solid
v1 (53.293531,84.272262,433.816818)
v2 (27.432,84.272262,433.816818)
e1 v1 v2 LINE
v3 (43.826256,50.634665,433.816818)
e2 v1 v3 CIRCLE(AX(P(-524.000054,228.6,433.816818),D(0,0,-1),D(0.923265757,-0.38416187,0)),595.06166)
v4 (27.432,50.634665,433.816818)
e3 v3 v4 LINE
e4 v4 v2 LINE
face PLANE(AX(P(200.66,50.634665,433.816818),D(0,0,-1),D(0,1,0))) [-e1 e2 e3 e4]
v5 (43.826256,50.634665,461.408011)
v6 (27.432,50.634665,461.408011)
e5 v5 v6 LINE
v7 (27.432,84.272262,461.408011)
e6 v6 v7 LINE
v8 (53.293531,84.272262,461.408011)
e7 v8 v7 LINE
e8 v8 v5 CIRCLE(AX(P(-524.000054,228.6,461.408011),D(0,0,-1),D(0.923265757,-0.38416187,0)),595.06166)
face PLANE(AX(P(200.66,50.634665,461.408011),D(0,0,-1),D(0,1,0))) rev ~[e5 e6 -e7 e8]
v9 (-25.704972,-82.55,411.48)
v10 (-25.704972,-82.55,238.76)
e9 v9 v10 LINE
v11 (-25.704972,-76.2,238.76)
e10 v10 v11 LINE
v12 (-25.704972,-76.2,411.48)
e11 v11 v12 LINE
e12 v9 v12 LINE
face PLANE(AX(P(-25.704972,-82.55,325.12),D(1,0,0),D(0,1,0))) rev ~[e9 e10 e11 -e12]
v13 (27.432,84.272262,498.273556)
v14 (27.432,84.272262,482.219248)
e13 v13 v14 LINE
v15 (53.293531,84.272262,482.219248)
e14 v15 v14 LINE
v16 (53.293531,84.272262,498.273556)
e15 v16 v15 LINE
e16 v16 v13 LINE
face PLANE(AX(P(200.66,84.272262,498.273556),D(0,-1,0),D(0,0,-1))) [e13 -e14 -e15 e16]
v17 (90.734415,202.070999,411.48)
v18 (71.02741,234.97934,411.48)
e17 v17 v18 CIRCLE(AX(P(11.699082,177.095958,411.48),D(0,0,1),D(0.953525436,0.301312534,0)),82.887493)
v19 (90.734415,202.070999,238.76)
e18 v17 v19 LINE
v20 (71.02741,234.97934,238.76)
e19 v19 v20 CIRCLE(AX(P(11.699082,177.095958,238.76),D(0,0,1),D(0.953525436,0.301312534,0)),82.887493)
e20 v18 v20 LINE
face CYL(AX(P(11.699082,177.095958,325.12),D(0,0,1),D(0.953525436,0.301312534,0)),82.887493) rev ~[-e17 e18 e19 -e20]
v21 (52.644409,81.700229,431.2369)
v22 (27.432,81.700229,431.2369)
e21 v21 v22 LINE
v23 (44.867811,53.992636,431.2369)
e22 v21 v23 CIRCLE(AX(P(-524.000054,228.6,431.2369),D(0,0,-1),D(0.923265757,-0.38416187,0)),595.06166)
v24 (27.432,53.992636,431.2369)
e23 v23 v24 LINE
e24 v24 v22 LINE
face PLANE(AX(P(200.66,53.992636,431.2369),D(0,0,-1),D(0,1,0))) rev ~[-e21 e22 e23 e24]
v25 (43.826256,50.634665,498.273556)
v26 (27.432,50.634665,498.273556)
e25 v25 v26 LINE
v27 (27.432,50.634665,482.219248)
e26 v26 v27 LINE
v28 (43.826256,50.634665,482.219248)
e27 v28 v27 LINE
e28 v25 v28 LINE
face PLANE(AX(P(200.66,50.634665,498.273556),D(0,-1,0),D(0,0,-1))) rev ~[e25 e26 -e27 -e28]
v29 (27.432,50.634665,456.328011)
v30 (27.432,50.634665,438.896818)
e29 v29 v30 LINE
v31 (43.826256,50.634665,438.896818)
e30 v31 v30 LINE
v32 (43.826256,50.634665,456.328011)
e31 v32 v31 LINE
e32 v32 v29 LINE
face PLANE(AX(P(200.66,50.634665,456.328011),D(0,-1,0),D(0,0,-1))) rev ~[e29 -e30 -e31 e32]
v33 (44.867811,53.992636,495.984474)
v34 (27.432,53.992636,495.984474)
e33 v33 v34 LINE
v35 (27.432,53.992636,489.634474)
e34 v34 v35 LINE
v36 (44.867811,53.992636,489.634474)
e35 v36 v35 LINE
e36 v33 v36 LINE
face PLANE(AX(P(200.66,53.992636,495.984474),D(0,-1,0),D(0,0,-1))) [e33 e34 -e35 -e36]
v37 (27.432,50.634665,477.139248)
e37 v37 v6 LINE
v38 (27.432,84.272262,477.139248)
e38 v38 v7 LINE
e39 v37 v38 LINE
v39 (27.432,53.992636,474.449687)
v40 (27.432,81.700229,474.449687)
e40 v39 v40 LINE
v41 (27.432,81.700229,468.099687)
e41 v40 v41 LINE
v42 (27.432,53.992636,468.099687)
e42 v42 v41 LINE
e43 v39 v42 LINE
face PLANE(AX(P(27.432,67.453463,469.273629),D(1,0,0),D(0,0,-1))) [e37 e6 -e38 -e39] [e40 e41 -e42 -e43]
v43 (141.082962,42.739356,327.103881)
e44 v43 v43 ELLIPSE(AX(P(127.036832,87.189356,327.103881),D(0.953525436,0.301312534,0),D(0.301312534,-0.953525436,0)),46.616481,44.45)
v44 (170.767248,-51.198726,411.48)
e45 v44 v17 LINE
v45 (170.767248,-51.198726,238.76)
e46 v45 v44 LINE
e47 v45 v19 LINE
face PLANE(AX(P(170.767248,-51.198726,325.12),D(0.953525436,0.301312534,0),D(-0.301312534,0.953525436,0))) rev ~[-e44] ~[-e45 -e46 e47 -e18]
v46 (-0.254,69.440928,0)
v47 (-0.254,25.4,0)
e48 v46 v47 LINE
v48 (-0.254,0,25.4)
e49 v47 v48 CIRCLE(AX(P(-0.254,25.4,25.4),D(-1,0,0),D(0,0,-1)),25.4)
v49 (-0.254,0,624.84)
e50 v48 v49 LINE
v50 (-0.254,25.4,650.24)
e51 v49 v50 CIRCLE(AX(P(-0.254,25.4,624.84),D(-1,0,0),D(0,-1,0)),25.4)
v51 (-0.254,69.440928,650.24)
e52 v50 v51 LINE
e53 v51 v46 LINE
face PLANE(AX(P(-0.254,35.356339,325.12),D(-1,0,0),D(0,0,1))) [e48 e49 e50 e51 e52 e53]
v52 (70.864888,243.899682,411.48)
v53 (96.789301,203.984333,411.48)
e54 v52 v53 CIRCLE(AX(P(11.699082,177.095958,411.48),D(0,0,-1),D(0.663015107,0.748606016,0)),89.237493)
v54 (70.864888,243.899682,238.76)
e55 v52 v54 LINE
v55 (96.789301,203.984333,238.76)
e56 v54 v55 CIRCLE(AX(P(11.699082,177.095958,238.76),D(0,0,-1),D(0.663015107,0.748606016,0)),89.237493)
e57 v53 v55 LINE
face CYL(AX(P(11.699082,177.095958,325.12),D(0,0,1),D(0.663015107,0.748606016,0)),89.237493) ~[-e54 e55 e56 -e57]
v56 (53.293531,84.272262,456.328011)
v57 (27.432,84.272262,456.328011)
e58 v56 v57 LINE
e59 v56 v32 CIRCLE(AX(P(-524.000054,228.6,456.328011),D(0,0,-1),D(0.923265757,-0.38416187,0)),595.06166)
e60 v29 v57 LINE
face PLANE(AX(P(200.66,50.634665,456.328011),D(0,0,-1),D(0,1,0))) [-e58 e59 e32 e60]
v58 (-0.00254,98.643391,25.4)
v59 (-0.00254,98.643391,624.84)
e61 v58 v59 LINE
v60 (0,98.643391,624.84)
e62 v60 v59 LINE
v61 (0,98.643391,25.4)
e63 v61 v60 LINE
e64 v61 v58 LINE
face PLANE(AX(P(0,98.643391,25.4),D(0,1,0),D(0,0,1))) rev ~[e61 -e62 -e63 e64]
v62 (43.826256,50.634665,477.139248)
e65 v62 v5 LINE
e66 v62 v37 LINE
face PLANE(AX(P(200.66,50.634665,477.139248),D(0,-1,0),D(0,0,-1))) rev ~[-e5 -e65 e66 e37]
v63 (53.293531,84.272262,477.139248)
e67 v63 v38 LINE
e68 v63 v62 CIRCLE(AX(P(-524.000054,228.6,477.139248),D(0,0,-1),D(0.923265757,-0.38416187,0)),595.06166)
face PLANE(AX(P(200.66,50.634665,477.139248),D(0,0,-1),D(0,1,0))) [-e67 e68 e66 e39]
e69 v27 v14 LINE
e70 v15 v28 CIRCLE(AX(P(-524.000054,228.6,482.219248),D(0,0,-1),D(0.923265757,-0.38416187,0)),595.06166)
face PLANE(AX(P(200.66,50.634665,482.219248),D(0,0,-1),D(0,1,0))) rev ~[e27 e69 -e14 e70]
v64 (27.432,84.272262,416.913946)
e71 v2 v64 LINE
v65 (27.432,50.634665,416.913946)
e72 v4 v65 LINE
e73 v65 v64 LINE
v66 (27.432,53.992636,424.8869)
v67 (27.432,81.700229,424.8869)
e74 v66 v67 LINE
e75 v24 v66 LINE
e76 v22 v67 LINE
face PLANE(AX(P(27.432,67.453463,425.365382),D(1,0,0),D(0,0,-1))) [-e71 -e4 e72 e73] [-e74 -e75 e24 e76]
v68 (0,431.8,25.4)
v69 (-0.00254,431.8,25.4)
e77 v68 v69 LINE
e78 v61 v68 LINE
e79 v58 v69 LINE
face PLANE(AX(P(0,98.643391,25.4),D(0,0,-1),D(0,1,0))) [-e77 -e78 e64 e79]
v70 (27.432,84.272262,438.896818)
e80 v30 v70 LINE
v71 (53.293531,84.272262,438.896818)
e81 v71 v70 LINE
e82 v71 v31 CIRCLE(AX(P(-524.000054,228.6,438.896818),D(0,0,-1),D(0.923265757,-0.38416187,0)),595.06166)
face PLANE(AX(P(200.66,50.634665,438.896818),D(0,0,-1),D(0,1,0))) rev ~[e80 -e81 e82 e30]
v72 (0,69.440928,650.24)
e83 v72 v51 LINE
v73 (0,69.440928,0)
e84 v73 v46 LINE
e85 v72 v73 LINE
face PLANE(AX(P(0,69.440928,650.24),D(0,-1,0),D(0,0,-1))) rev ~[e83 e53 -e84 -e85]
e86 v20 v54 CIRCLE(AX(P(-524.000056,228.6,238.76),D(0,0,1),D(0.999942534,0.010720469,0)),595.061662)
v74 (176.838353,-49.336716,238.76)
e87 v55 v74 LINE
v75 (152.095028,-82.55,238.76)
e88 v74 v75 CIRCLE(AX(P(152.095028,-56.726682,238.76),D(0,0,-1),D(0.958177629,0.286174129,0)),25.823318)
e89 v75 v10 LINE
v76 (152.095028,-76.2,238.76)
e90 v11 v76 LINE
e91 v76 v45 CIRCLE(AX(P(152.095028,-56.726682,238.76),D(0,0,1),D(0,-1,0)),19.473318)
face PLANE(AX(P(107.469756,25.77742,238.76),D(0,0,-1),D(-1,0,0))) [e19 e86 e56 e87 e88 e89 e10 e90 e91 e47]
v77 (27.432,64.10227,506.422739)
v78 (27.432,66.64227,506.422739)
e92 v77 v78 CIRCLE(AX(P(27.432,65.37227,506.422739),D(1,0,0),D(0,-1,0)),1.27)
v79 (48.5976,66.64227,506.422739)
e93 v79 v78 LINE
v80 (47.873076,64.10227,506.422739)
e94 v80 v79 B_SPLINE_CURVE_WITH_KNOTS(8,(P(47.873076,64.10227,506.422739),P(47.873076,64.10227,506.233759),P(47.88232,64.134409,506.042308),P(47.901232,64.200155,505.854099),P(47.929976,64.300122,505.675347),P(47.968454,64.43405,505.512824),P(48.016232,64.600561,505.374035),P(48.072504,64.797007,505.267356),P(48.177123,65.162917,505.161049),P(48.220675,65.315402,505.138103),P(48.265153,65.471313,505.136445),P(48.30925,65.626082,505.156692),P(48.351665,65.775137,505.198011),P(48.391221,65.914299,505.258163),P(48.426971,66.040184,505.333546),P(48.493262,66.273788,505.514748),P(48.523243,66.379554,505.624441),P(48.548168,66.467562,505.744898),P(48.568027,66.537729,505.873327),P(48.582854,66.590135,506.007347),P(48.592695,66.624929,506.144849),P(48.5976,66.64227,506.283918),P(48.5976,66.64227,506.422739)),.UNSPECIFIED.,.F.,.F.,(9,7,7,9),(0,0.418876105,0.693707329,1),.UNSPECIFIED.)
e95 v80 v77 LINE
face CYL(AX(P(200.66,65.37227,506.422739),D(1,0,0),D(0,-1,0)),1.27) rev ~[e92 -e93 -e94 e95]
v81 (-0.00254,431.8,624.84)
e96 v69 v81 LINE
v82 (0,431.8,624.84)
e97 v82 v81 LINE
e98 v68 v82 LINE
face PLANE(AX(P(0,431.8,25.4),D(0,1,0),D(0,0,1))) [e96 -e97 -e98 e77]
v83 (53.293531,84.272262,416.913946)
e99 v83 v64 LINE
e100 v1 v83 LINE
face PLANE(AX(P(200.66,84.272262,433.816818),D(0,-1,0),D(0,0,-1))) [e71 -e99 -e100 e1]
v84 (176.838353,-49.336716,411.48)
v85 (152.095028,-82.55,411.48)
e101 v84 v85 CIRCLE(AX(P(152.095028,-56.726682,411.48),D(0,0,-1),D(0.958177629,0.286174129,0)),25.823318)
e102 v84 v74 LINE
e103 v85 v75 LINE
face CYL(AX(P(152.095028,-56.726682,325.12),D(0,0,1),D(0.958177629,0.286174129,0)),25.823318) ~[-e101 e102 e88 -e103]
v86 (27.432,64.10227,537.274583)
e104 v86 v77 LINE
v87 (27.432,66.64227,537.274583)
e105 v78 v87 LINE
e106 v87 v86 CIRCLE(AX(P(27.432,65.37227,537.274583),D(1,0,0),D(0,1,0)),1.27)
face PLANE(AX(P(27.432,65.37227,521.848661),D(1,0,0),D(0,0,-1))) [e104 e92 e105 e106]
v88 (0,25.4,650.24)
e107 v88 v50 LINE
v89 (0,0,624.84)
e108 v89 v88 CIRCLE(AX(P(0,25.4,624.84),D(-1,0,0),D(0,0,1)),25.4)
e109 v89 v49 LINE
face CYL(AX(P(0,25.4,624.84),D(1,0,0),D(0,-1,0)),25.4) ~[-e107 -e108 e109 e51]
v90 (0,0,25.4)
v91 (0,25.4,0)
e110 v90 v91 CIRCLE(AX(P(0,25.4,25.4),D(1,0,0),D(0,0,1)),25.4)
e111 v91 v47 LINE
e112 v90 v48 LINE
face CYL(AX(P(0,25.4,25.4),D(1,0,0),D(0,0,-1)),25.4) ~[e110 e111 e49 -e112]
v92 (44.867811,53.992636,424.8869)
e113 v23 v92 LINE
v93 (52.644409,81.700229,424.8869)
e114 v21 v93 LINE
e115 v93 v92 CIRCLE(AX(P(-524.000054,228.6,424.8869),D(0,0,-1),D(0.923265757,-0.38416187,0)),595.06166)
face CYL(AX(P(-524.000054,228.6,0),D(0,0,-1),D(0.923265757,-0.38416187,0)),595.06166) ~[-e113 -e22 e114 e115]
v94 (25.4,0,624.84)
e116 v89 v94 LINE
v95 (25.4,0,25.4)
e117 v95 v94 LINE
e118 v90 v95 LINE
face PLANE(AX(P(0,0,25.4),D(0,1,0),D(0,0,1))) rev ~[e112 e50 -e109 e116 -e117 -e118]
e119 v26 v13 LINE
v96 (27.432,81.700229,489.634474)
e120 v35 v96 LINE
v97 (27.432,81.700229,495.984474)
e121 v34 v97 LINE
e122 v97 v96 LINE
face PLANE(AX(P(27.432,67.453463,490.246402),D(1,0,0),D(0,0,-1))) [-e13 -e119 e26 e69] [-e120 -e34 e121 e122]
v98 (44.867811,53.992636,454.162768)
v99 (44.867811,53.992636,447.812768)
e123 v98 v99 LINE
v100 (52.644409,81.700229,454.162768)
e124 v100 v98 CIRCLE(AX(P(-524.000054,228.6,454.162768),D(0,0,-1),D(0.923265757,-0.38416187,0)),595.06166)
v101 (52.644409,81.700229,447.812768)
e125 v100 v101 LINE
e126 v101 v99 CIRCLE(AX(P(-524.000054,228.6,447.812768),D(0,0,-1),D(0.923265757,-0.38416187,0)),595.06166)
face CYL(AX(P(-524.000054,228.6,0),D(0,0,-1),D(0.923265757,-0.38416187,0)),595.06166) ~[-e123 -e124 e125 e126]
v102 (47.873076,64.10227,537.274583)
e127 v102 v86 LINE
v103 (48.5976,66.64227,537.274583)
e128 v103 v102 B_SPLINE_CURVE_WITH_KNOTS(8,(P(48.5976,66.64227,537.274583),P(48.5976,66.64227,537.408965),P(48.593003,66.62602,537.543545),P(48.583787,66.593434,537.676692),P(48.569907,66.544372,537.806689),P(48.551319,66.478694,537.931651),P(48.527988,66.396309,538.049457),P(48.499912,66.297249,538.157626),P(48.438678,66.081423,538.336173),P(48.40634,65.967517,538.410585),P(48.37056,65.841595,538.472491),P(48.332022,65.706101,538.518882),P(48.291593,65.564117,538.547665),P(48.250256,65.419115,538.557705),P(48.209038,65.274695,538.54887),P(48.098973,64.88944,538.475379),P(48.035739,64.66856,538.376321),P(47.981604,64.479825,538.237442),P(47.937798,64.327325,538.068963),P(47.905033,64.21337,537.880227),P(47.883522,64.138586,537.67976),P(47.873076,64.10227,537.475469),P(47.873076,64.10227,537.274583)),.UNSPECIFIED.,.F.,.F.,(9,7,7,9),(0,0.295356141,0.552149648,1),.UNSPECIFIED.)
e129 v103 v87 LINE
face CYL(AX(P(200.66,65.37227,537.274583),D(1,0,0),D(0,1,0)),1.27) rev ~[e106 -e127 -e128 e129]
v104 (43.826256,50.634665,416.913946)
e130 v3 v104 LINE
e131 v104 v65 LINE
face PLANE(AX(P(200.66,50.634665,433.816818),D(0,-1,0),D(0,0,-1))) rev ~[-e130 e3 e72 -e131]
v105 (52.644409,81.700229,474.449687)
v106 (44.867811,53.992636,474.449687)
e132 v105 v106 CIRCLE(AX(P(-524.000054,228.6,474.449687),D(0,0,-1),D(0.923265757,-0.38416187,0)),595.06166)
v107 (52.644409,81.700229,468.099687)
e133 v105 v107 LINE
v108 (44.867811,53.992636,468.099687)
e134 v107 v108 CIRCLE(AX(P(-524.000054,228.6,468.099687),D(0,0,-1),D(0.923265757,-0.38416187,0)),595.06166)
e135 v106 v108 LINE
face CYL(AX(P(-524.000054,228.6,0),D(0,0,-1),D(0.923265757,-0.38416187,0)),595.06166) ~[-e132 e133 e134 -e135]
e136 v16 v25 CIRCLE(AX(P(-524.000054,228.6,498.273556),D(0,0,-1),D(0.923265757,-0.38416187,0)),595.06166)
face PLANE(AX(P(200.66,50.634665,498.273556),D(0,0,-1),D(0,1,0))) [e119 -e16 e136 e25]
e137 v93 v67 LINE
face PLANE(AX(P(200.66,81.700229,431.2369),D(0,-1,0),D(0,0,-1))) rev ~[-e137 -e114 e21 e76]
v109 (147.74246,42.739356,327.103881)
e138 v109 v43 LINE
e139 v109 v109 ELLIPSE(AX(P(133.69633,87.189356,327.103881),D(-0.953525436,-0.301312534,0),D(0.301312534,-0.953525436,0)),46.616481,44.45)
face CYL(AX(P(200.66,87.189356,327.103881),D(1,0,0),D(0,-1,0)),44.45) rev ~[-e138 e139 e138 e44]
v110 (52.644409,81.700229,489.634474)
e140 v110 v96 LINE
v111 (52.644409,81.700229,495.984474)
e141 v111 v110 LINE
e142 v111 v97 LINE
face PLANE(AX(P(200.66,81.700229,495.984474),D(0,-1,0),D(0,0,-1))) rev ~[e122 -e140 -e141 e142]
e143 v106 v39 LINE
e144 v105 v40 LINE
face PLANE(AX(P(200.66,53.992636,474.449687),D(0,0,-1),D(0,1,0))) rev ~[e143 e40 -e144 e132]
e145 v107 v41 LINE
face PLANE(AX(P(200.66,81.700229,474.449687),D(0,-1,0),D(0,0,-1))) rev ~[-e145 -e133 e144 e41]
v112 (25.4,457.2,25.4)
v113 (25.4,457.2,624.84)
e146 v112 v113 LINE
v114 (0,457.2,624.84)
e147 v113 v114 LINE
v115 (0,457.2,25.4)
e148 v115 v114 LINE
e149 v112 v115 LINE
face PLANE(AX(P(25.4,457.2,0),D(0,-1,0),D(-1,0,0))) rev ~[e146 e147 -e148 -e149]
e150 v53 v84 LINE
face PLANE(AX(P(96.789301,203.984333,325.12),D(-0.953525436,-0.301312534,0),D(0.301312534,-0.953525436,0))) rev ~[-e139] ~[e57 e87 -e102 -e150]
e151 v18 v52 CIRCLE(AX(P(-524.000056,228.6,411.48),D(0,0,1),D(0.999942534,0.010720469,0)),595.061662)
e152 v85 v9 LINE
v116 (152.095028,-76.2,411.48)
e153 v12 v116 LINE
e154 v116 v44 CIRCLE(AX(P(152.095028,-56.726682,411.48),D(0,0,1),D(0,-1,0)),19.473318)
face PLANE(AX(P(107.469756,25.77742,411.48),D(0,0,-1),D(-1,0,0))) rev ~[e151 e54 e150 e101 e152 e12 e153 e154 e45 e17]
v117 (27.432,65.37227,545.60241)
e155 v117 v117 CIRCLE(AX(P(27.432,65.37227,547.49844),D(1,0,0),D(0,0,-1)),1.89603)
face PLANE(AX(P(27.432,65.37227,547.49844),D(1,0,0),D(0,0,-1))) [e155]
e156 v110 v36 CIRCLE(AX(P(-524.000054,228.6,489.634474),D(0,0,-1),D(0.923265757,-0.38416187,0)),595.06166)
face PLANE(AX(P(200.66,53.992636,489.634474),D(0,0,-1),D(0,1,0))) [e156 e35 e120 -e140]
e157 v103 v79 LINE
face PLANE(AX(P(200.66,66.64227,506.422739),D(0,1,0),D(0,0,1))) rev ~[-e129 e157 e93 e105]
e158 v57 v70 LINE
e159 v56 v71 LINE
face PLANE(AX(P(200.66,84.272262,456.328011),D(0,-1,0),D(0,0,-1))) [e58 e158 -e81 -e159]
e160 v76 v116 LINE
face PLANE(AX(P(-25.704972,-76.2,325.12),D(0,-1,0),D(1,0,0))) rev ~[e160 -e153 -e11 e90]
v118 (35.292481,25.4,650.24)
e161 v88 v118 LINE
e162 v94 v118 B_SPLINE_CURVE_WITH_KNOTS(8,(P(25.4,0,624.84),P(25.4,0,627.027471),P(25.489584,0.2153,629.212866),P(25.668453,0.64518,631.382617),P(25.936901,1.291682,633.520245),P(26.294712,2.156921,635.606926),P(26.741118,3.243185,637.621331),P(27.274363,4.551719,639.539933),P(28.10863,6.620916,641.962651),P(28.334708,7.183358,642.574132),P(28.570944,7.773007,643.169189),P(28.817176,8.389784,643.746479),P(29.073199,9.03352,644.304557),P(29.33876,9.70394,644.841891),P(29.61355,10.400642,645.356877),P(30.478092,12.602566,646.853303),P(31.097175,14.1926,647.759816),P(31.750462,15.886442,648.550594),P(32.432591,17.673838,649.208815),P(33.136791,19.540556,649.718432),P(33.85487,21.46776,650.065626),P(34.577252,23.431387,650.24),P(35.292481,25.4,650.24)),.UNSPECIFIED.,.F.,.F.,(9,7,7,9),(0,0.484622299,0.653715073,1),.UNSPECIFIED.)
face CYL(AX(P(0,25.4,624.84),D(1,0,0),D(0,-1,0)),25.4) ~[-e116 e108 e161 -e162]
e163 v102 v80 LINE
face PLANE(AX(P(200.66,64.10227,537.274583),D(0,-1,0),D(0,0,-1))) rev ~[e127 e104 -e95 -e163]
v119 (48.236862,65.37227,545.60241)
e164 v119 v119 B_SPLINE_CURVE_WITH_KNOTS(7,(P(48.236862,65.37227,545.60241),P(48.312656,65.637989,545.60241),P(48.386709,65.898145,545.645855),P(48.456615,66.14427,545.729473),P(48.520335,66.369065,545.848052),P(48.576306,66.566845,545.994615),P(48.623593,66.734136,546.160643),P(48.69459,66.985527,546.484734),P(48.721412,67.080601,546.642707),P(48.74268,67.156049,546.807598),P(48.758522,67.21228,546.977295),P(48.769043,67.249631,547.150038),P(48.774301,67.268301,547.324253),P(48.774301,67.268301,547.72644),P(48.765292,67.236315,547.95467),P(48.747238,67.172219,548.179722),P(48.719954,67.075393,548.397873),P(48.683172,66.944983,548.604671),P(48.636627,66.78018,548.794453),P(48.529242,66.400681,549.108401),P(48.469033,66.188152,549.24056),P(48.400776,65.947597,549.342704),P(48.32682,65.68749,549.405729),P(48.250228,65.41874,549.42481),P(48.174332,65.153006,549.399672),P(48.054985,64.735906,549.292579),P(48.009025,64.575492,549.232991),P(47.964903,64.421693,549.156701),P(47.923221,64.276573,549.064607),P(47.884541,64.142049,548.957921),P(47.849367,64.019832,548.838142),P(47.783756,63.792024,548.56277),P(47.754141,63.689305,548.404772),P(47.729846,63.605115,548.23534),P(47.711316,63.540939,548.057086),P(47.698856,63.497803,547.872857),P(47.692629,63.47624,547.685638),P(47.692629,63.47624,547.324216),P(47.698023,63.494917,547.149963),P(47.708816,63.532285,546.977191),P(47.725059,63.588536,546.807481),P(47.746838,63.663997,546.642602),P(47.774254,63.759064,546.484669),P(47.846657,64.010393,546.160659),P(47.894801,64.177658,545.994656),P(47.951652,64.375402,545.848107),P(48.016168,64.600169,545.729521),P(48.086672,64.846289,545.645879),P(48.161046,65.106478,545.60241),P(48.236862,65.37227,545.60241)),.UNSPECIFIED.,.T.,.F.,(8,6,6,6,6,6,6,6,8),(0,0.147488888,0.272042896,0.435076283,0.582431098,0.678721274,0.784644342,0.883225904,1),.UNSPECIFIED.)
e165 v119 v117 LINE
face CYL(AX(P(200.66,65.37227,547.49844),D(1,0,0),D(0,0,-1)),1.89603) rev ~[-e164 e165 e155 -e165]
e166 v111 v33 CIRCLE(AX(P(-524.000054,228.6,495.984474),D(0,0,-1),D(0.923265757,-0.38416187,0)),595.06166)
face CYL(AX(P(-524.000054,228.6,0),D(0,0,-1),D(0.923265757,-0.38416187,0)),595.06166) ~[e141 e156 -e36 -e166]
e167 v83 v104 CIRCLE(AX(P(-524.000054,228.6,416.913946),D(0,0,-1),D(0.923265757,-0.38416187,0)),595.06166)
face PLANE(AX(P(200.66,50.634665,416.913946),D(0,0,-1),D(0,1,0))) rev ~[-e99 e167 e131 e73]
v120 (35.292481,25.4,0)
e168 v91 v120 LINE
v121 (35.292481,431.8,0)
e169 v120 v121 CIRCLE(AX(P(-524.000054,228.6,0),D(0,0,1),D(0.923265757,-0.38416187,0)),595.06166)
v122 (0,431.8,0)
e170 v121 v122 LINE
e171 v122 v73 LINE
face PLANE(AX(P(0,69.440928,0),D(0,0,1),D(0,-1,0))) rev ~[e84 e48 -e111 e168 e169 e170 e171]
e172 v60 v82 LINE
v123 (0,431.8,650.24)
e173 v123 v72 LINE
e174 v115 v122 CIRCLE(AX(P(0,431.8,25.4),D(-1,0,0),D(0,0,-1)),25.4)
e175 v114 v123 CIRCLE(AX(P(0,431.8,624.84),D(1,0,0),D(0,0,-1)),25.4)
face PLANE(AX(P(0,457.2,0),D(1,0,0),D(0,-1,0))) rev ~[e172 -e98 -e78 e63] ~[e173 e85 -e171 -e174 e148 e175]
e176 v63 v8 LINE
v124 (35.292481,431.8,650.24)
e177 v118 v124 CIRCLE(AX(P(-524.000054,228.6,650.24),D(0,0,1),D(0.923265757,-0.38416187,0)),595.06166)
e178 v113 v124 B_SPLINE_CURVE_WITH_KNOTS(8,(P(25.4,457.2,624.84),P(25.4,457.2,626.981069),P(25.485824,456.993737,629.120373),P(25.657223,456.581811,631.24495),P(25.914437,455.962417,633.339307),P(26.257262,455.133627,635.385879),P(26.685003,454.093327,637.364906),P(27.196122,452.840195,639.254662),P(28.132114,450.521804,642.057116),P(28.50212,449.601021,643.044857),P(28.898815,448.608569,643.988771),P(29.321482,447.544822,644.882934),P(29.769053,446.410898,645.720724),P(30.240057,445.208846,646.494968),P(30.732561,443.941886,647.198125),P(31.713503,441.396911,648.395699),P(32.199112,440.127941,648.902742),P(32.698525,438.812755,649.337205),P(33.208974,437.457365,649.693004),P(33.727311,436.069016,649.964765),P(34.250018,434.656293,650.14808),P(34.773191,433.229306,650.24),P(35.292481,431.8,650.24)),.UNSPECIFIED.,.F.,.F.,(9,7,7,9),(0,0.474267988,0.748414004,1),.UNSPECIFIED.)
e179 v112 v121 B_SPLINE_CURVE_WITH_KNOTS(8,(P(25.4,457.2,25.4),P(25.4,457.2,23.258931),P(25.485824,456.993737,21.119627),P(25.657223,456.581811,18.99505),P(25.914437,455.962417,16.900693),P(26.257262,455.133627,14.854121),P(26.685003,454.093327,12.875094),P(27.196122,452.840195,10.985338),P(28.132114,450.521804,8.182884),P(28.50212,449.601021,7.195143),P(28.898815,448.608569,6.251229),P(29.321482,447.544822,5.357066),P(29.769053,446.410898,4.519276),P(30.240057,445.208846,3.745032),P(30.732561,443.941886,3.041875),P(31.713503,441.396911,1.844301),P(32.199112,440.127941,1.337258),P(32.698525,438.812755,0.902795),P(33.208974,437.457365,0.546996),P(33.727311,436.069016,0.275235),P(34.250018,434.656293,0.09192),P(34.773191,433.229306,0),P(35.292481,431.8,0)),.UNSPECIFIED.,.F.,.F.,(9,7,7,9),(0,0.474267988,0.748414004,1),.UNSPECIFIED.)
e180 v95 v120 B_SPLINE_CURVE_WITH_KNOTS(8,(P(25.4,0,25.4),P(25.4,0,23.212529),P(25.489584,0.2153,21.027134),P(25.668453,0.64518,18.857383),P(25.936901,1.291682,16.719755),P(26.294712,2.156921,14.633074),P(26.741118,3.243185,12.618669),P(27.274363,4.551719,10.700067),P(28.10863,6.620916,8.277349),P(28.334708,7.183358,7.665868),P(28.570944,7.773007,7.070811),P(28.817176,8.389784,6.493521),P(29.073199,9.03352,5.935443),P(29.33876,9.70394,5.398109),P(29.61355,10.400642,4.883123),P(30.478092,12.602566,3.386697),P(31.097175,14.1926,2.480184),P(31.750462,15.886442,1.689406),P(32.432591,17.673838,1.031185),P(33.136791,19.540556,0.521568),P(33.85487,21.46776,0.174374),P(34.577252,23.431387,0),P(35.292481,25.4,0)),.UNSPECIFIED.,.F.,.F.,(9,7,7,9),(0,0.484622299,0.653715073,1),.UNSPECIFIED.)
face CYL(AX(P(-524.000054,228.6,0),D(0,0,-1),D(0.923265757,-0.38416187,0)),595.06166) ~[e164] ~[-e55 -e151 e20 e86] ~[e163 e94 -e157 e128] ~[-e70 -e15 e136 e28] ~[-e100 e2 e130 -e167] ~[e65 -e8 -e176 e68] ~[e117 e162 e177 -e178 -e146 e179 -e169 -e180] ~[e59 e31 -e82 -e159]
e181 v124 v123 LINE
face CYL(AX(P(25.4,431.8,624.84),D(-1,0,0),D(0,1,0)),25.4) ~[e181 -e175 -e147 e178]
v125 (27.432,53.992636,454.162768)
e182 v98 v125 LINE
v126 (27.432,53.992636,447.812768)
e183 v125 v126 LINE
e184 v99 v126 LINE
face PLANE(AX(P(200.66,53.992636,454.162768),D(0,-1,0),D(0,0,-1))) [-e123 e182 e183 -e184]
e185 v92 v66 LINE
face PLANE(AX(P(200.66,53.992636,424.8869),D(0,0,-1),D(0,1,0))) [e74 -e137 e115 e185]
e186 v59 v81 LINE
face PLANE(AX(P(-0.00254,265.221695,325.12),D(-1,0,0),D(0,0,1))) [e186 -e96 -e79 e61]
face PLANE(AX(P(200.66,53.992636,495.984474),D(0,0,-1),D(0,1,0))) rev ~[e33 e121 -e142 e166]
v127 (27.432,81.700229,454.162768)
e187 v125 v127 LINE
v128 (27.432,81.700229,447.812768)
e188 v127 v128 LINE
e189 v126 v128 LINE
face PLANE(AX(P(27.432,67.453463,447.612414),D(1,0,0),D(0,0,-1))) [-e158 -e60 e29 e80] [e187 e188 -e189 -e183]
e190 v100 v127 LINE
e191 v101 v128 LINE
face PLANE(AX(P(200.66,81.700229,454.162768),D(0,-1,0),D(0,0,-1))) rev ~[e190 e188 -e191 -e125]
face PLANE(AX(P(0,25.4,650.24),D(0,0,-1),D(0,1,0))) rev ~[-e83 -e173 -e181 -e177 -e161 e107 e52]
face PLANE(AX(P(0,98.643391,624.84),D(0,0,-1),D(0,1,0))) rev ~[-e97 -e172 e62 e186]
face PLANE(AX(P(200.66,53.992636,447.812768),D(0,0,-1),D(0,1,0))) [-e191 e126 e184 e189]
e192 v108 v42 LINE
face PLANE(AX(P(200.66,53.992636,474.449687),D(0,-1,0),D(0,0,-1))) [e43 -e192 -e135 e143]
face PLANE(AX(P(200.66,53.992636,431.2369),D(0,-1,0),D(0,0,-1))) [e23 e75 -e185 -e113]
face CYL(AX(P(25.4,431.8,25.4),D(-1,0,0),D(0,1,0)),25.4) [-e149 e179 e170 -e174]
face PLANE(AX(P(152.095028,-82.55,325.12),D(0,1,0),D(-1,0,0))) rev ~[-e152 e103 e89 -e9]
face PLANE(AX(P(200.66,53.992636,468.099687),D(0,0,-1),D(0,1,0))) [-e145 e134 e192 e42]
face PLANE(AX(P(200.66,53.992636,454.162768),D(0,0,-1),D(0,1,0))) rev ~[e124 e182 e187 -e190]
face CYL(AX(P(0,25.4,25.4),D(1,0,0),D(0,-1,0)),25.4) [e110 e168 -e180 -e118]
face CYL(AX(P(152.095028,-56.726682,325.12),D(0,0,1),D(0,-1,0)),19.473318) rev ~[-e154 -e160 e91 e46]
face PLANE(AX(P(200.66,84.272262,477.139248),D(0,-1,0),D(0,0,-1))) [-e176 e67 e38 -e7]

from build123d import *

# Parameters (mm, degrees)
BOSS_EXTRUDE1_DEPTH = 650.24
FILLET1_R           = 25.4
BOSS_EXTRUDE2_DEPTH = 0.254
SKETCH4_W           = 599.44
SKETCH4_H           = 333.15660942
BOSS_EXTRUDE3_DEPTH = 0.00254
BOSS_EXTRUDE4_DEPTH = 86.36
SKETCH6_R           = 44.45
CUT_EXTRUDE1_DEPTH  = 99.568
SKETCH7_W           = 17.431192508
SKETCH7_H           = 33.637597394
SKETCH7_W_2         = 6.35
SKETCH7_H_2         = 27.707593027
SKETCH7_W_3         = 16.902871881
SKETCH7_W_4         = 15.731237492
SKETCH7_W_5         = 16.054307847
SKETCH7_R           = 1.896030158
CUT_EXTRUDE2_DEPTH  = 173.228


with BuildPart() as part:
    # Sketch1 → Boss-Extrude1 (new body)
    with BuildSketch(Plane.XY):
        with BuildLine():
            Line((0, 0), (25.4, 0))
            ThreePointArc((25.4, 0), (71.061606083, 228.6), (25.4, 457.2))
            Line((25.4, 457.2), (0, 457.2))
            Line((0, 457.2), (0, 0))
        make_face()
    extrude(amount=BOSS_EXTRUDE1_DEPTH)

    # Fillet1
    fillet1_edges = [part.edges().sort_by_distance(p)[0] for p in [
        (12.7, 457.2, 650.24),
        (12.7, 457.2, 0),
        (12.7, 0, 0),
        (12.7, 0, 650.24),
    ]]
    fillet(fillet1_edges, radius=FILLET1_R)

    # Sketch2 → Boss-Extrude2 (add)
    with BuildSketch(Plane.ZY):
        with BuildLine():
            Line((0, 69.440928173), (0, 25.4))
            ThreePointArc((0, 25.4), (7.439487758, 7.439487758), (25.4, 0))
            Line((25.4, 0), (624.84, 0))
            ThreePointArc((624.84, 0), (642.800512242, 7.439487758), (650.24, 25.4))
            Line((650.24, 25.4), (650.24, 69.440928173))
            Line((650.24, 69.440928173), (0, 69.440928173))
        make_face()
    extrude(amount=BOSS_EXTRUDE2_DEPTH)

    # Sketch4 → Boss-Extrude3 (add)
    with BuildSketch(Plane.ZY):
        with Locations((325.12, 265.22169529)):
            Rectangle(SKETCH4_W, SKETCH4_H)
    extrude(amount=BOSS_EXTRUDE3_DEPTH)

    # Sketch5 → Boss-Extrude4 (add, symmetric)
    with BuildSketch(Plane.XY.offset(325.12)):
        with BuildLine():
            Line((170.767248261, -51.198725882), (90.734414709, 202.070998511))
            ThreePointArc((90.734414709, 202.070998511), (82.810722474, 219.680826846), (71.027410341, 234.979340102))
            ThreePointArc((71.027410341, 234.979340102), (70.962867279, 239.439815668), (70.86488784, 243.899682046))
            ThreePointArc((70.86488784, 243.899682046), (86.537300589, 225.702245278), (96.789301226, 203.984333103))
            Line((96.789301226, 203.984333103), (176.83835346, -49.336716487))
            ThreePointArc((176.83835346, -49.336716487), (172.803446222, -72.154097904), (152.095027867, -82.55))
            Line((152.095027867, -82.55), (-25.704972133, -82.55))
            Line((-25.704972133, -82.55), (-25.704972133, -76.2))
            Line((-25.704972133, -76.2), (152.095027867, -76.2))
            ThreePointArc((152.095027867, -76.2), (167.697235419, -68.379202467), (170.767248261, -51.198725882))
        make_face()
    extrude(amount=BOSS_EXTRUDE4_DEPTH, both=True)

    # Sketch6 → Cut-Extrude1 (cut)
    with BuildSketch(Plane(origin=(200.66, 0, 0), x_dir=(0, 0, -1), z_dir=(1, 0, 0))):
        with Locations(Location((-327.103881197, 87.189356475, 0), (0, 0, 270))):
            Circle(SKETCH6_R)
    extrude(amount=-CUT_EXTRUDE1_DEPTH, mode=Mode.SUBTRACT)

    # Sketch7 → Cut-Extrude2 (cut)
    # profile 1 of 6: a face of its own
    with BuildSketch(Plane(origin=(200.66, 0, 0), x_dir=(0, 0, -1), z_dir=(1, 0, 0))):
        with Locations((-447.612414344, 67.453463266)):
            Rectangle(SKETCH7_W, SKETCH7_H)
        with Locations((-450.987768144, 67.846432455)):
            Rectangle(SKETCH7_W_2, SKETCH7_H_2, mode=Mode.SUBTRACT)
    # profile 2 of 6: a face of its own
    with BuildSketch(Plane(origin=(200.66, 0, 0), x_dir=(0, 0, -1), z_dir=(1, 0, 0))):
        with Locations((-425.36538215, 67.453463266)):
            Rectangle(SKETCH7_W_3, SKETCH7_H)
        with Locations((-428.061900395, 67.846432455)):
            Rectangle(SKETCH7_W_2, SKETCH7_H_2, mode=Mode.SUBTRACT)
    # profile 3 of 6: a face of its own
    with BuildSketch(Plane(origin=(200.66, 0, 0), x_dir=(0, 0, -1), z_dir=(1, 0, 0))):
        with Locations((-469.273629344, 67.453463266)):
            Rectangle(SKETCH7_W_4, SKETCH7_H)
        with Locations((-471.274687087, 67.846432455)):
            Rectangle(SKETCH7_W_2, SKETCH7_H_2, mode=Mode.SUBTRACT)
    # profile 4 of 6: a face of its own
    with BuildSketch(Plane(origin=(200.66, 0, 0), x_dir=(0, 0, -1), z_dir=(1, 0, 0))):
        with Locations((-490.246402014, 67.453463266)):
            Rectangle(SKETCH7_W_5, SKETCH7_H)
        with Locations((-492.809474486, 67.846432455)):
            Rectangle(SKETCH7_W_2, SKETCH7_H_2, mode=Mode.SUBTRACT)
    # profile 5 of 6: a face of its own
    with BuildSketch(Plane(origin=(200.66, 0, 0), x_dir=(0, 0, -1), z_dir=(1, 0, 0))):
        with BuildLine():
            Line((-506.422738648, 66.642270475), (-537.274582932, 66.642270475))
            ThreePointArc((-537.274582932, 66.642270475), (-538.544582932, 65.372270475), (-537.274582932, 64.102270475))
            Line((-537.274582932, 64.102270475), (-506.422738648, 64.102270475))
            ThreePointArc((-506.422738648, 64.102270475), (-505.152738648, 65.372270475), (-506.422738648, 66.642270475))
        make_face()
    # profile 6 of 6: a face of its own
    with BuildSketch(Plane(origin=(200.66, 0, 0), x_dir=(0, 0, -1), z_dir=(1, 0, 0))):
        with Locations((-547.498439967, 65.372270475)):
            Circle(SKETCH7_R)
    extrude(amount=-CUT_EXTRUDE2_DEPTH, mode=Mode.SUBTRACT)


solid = part.part
